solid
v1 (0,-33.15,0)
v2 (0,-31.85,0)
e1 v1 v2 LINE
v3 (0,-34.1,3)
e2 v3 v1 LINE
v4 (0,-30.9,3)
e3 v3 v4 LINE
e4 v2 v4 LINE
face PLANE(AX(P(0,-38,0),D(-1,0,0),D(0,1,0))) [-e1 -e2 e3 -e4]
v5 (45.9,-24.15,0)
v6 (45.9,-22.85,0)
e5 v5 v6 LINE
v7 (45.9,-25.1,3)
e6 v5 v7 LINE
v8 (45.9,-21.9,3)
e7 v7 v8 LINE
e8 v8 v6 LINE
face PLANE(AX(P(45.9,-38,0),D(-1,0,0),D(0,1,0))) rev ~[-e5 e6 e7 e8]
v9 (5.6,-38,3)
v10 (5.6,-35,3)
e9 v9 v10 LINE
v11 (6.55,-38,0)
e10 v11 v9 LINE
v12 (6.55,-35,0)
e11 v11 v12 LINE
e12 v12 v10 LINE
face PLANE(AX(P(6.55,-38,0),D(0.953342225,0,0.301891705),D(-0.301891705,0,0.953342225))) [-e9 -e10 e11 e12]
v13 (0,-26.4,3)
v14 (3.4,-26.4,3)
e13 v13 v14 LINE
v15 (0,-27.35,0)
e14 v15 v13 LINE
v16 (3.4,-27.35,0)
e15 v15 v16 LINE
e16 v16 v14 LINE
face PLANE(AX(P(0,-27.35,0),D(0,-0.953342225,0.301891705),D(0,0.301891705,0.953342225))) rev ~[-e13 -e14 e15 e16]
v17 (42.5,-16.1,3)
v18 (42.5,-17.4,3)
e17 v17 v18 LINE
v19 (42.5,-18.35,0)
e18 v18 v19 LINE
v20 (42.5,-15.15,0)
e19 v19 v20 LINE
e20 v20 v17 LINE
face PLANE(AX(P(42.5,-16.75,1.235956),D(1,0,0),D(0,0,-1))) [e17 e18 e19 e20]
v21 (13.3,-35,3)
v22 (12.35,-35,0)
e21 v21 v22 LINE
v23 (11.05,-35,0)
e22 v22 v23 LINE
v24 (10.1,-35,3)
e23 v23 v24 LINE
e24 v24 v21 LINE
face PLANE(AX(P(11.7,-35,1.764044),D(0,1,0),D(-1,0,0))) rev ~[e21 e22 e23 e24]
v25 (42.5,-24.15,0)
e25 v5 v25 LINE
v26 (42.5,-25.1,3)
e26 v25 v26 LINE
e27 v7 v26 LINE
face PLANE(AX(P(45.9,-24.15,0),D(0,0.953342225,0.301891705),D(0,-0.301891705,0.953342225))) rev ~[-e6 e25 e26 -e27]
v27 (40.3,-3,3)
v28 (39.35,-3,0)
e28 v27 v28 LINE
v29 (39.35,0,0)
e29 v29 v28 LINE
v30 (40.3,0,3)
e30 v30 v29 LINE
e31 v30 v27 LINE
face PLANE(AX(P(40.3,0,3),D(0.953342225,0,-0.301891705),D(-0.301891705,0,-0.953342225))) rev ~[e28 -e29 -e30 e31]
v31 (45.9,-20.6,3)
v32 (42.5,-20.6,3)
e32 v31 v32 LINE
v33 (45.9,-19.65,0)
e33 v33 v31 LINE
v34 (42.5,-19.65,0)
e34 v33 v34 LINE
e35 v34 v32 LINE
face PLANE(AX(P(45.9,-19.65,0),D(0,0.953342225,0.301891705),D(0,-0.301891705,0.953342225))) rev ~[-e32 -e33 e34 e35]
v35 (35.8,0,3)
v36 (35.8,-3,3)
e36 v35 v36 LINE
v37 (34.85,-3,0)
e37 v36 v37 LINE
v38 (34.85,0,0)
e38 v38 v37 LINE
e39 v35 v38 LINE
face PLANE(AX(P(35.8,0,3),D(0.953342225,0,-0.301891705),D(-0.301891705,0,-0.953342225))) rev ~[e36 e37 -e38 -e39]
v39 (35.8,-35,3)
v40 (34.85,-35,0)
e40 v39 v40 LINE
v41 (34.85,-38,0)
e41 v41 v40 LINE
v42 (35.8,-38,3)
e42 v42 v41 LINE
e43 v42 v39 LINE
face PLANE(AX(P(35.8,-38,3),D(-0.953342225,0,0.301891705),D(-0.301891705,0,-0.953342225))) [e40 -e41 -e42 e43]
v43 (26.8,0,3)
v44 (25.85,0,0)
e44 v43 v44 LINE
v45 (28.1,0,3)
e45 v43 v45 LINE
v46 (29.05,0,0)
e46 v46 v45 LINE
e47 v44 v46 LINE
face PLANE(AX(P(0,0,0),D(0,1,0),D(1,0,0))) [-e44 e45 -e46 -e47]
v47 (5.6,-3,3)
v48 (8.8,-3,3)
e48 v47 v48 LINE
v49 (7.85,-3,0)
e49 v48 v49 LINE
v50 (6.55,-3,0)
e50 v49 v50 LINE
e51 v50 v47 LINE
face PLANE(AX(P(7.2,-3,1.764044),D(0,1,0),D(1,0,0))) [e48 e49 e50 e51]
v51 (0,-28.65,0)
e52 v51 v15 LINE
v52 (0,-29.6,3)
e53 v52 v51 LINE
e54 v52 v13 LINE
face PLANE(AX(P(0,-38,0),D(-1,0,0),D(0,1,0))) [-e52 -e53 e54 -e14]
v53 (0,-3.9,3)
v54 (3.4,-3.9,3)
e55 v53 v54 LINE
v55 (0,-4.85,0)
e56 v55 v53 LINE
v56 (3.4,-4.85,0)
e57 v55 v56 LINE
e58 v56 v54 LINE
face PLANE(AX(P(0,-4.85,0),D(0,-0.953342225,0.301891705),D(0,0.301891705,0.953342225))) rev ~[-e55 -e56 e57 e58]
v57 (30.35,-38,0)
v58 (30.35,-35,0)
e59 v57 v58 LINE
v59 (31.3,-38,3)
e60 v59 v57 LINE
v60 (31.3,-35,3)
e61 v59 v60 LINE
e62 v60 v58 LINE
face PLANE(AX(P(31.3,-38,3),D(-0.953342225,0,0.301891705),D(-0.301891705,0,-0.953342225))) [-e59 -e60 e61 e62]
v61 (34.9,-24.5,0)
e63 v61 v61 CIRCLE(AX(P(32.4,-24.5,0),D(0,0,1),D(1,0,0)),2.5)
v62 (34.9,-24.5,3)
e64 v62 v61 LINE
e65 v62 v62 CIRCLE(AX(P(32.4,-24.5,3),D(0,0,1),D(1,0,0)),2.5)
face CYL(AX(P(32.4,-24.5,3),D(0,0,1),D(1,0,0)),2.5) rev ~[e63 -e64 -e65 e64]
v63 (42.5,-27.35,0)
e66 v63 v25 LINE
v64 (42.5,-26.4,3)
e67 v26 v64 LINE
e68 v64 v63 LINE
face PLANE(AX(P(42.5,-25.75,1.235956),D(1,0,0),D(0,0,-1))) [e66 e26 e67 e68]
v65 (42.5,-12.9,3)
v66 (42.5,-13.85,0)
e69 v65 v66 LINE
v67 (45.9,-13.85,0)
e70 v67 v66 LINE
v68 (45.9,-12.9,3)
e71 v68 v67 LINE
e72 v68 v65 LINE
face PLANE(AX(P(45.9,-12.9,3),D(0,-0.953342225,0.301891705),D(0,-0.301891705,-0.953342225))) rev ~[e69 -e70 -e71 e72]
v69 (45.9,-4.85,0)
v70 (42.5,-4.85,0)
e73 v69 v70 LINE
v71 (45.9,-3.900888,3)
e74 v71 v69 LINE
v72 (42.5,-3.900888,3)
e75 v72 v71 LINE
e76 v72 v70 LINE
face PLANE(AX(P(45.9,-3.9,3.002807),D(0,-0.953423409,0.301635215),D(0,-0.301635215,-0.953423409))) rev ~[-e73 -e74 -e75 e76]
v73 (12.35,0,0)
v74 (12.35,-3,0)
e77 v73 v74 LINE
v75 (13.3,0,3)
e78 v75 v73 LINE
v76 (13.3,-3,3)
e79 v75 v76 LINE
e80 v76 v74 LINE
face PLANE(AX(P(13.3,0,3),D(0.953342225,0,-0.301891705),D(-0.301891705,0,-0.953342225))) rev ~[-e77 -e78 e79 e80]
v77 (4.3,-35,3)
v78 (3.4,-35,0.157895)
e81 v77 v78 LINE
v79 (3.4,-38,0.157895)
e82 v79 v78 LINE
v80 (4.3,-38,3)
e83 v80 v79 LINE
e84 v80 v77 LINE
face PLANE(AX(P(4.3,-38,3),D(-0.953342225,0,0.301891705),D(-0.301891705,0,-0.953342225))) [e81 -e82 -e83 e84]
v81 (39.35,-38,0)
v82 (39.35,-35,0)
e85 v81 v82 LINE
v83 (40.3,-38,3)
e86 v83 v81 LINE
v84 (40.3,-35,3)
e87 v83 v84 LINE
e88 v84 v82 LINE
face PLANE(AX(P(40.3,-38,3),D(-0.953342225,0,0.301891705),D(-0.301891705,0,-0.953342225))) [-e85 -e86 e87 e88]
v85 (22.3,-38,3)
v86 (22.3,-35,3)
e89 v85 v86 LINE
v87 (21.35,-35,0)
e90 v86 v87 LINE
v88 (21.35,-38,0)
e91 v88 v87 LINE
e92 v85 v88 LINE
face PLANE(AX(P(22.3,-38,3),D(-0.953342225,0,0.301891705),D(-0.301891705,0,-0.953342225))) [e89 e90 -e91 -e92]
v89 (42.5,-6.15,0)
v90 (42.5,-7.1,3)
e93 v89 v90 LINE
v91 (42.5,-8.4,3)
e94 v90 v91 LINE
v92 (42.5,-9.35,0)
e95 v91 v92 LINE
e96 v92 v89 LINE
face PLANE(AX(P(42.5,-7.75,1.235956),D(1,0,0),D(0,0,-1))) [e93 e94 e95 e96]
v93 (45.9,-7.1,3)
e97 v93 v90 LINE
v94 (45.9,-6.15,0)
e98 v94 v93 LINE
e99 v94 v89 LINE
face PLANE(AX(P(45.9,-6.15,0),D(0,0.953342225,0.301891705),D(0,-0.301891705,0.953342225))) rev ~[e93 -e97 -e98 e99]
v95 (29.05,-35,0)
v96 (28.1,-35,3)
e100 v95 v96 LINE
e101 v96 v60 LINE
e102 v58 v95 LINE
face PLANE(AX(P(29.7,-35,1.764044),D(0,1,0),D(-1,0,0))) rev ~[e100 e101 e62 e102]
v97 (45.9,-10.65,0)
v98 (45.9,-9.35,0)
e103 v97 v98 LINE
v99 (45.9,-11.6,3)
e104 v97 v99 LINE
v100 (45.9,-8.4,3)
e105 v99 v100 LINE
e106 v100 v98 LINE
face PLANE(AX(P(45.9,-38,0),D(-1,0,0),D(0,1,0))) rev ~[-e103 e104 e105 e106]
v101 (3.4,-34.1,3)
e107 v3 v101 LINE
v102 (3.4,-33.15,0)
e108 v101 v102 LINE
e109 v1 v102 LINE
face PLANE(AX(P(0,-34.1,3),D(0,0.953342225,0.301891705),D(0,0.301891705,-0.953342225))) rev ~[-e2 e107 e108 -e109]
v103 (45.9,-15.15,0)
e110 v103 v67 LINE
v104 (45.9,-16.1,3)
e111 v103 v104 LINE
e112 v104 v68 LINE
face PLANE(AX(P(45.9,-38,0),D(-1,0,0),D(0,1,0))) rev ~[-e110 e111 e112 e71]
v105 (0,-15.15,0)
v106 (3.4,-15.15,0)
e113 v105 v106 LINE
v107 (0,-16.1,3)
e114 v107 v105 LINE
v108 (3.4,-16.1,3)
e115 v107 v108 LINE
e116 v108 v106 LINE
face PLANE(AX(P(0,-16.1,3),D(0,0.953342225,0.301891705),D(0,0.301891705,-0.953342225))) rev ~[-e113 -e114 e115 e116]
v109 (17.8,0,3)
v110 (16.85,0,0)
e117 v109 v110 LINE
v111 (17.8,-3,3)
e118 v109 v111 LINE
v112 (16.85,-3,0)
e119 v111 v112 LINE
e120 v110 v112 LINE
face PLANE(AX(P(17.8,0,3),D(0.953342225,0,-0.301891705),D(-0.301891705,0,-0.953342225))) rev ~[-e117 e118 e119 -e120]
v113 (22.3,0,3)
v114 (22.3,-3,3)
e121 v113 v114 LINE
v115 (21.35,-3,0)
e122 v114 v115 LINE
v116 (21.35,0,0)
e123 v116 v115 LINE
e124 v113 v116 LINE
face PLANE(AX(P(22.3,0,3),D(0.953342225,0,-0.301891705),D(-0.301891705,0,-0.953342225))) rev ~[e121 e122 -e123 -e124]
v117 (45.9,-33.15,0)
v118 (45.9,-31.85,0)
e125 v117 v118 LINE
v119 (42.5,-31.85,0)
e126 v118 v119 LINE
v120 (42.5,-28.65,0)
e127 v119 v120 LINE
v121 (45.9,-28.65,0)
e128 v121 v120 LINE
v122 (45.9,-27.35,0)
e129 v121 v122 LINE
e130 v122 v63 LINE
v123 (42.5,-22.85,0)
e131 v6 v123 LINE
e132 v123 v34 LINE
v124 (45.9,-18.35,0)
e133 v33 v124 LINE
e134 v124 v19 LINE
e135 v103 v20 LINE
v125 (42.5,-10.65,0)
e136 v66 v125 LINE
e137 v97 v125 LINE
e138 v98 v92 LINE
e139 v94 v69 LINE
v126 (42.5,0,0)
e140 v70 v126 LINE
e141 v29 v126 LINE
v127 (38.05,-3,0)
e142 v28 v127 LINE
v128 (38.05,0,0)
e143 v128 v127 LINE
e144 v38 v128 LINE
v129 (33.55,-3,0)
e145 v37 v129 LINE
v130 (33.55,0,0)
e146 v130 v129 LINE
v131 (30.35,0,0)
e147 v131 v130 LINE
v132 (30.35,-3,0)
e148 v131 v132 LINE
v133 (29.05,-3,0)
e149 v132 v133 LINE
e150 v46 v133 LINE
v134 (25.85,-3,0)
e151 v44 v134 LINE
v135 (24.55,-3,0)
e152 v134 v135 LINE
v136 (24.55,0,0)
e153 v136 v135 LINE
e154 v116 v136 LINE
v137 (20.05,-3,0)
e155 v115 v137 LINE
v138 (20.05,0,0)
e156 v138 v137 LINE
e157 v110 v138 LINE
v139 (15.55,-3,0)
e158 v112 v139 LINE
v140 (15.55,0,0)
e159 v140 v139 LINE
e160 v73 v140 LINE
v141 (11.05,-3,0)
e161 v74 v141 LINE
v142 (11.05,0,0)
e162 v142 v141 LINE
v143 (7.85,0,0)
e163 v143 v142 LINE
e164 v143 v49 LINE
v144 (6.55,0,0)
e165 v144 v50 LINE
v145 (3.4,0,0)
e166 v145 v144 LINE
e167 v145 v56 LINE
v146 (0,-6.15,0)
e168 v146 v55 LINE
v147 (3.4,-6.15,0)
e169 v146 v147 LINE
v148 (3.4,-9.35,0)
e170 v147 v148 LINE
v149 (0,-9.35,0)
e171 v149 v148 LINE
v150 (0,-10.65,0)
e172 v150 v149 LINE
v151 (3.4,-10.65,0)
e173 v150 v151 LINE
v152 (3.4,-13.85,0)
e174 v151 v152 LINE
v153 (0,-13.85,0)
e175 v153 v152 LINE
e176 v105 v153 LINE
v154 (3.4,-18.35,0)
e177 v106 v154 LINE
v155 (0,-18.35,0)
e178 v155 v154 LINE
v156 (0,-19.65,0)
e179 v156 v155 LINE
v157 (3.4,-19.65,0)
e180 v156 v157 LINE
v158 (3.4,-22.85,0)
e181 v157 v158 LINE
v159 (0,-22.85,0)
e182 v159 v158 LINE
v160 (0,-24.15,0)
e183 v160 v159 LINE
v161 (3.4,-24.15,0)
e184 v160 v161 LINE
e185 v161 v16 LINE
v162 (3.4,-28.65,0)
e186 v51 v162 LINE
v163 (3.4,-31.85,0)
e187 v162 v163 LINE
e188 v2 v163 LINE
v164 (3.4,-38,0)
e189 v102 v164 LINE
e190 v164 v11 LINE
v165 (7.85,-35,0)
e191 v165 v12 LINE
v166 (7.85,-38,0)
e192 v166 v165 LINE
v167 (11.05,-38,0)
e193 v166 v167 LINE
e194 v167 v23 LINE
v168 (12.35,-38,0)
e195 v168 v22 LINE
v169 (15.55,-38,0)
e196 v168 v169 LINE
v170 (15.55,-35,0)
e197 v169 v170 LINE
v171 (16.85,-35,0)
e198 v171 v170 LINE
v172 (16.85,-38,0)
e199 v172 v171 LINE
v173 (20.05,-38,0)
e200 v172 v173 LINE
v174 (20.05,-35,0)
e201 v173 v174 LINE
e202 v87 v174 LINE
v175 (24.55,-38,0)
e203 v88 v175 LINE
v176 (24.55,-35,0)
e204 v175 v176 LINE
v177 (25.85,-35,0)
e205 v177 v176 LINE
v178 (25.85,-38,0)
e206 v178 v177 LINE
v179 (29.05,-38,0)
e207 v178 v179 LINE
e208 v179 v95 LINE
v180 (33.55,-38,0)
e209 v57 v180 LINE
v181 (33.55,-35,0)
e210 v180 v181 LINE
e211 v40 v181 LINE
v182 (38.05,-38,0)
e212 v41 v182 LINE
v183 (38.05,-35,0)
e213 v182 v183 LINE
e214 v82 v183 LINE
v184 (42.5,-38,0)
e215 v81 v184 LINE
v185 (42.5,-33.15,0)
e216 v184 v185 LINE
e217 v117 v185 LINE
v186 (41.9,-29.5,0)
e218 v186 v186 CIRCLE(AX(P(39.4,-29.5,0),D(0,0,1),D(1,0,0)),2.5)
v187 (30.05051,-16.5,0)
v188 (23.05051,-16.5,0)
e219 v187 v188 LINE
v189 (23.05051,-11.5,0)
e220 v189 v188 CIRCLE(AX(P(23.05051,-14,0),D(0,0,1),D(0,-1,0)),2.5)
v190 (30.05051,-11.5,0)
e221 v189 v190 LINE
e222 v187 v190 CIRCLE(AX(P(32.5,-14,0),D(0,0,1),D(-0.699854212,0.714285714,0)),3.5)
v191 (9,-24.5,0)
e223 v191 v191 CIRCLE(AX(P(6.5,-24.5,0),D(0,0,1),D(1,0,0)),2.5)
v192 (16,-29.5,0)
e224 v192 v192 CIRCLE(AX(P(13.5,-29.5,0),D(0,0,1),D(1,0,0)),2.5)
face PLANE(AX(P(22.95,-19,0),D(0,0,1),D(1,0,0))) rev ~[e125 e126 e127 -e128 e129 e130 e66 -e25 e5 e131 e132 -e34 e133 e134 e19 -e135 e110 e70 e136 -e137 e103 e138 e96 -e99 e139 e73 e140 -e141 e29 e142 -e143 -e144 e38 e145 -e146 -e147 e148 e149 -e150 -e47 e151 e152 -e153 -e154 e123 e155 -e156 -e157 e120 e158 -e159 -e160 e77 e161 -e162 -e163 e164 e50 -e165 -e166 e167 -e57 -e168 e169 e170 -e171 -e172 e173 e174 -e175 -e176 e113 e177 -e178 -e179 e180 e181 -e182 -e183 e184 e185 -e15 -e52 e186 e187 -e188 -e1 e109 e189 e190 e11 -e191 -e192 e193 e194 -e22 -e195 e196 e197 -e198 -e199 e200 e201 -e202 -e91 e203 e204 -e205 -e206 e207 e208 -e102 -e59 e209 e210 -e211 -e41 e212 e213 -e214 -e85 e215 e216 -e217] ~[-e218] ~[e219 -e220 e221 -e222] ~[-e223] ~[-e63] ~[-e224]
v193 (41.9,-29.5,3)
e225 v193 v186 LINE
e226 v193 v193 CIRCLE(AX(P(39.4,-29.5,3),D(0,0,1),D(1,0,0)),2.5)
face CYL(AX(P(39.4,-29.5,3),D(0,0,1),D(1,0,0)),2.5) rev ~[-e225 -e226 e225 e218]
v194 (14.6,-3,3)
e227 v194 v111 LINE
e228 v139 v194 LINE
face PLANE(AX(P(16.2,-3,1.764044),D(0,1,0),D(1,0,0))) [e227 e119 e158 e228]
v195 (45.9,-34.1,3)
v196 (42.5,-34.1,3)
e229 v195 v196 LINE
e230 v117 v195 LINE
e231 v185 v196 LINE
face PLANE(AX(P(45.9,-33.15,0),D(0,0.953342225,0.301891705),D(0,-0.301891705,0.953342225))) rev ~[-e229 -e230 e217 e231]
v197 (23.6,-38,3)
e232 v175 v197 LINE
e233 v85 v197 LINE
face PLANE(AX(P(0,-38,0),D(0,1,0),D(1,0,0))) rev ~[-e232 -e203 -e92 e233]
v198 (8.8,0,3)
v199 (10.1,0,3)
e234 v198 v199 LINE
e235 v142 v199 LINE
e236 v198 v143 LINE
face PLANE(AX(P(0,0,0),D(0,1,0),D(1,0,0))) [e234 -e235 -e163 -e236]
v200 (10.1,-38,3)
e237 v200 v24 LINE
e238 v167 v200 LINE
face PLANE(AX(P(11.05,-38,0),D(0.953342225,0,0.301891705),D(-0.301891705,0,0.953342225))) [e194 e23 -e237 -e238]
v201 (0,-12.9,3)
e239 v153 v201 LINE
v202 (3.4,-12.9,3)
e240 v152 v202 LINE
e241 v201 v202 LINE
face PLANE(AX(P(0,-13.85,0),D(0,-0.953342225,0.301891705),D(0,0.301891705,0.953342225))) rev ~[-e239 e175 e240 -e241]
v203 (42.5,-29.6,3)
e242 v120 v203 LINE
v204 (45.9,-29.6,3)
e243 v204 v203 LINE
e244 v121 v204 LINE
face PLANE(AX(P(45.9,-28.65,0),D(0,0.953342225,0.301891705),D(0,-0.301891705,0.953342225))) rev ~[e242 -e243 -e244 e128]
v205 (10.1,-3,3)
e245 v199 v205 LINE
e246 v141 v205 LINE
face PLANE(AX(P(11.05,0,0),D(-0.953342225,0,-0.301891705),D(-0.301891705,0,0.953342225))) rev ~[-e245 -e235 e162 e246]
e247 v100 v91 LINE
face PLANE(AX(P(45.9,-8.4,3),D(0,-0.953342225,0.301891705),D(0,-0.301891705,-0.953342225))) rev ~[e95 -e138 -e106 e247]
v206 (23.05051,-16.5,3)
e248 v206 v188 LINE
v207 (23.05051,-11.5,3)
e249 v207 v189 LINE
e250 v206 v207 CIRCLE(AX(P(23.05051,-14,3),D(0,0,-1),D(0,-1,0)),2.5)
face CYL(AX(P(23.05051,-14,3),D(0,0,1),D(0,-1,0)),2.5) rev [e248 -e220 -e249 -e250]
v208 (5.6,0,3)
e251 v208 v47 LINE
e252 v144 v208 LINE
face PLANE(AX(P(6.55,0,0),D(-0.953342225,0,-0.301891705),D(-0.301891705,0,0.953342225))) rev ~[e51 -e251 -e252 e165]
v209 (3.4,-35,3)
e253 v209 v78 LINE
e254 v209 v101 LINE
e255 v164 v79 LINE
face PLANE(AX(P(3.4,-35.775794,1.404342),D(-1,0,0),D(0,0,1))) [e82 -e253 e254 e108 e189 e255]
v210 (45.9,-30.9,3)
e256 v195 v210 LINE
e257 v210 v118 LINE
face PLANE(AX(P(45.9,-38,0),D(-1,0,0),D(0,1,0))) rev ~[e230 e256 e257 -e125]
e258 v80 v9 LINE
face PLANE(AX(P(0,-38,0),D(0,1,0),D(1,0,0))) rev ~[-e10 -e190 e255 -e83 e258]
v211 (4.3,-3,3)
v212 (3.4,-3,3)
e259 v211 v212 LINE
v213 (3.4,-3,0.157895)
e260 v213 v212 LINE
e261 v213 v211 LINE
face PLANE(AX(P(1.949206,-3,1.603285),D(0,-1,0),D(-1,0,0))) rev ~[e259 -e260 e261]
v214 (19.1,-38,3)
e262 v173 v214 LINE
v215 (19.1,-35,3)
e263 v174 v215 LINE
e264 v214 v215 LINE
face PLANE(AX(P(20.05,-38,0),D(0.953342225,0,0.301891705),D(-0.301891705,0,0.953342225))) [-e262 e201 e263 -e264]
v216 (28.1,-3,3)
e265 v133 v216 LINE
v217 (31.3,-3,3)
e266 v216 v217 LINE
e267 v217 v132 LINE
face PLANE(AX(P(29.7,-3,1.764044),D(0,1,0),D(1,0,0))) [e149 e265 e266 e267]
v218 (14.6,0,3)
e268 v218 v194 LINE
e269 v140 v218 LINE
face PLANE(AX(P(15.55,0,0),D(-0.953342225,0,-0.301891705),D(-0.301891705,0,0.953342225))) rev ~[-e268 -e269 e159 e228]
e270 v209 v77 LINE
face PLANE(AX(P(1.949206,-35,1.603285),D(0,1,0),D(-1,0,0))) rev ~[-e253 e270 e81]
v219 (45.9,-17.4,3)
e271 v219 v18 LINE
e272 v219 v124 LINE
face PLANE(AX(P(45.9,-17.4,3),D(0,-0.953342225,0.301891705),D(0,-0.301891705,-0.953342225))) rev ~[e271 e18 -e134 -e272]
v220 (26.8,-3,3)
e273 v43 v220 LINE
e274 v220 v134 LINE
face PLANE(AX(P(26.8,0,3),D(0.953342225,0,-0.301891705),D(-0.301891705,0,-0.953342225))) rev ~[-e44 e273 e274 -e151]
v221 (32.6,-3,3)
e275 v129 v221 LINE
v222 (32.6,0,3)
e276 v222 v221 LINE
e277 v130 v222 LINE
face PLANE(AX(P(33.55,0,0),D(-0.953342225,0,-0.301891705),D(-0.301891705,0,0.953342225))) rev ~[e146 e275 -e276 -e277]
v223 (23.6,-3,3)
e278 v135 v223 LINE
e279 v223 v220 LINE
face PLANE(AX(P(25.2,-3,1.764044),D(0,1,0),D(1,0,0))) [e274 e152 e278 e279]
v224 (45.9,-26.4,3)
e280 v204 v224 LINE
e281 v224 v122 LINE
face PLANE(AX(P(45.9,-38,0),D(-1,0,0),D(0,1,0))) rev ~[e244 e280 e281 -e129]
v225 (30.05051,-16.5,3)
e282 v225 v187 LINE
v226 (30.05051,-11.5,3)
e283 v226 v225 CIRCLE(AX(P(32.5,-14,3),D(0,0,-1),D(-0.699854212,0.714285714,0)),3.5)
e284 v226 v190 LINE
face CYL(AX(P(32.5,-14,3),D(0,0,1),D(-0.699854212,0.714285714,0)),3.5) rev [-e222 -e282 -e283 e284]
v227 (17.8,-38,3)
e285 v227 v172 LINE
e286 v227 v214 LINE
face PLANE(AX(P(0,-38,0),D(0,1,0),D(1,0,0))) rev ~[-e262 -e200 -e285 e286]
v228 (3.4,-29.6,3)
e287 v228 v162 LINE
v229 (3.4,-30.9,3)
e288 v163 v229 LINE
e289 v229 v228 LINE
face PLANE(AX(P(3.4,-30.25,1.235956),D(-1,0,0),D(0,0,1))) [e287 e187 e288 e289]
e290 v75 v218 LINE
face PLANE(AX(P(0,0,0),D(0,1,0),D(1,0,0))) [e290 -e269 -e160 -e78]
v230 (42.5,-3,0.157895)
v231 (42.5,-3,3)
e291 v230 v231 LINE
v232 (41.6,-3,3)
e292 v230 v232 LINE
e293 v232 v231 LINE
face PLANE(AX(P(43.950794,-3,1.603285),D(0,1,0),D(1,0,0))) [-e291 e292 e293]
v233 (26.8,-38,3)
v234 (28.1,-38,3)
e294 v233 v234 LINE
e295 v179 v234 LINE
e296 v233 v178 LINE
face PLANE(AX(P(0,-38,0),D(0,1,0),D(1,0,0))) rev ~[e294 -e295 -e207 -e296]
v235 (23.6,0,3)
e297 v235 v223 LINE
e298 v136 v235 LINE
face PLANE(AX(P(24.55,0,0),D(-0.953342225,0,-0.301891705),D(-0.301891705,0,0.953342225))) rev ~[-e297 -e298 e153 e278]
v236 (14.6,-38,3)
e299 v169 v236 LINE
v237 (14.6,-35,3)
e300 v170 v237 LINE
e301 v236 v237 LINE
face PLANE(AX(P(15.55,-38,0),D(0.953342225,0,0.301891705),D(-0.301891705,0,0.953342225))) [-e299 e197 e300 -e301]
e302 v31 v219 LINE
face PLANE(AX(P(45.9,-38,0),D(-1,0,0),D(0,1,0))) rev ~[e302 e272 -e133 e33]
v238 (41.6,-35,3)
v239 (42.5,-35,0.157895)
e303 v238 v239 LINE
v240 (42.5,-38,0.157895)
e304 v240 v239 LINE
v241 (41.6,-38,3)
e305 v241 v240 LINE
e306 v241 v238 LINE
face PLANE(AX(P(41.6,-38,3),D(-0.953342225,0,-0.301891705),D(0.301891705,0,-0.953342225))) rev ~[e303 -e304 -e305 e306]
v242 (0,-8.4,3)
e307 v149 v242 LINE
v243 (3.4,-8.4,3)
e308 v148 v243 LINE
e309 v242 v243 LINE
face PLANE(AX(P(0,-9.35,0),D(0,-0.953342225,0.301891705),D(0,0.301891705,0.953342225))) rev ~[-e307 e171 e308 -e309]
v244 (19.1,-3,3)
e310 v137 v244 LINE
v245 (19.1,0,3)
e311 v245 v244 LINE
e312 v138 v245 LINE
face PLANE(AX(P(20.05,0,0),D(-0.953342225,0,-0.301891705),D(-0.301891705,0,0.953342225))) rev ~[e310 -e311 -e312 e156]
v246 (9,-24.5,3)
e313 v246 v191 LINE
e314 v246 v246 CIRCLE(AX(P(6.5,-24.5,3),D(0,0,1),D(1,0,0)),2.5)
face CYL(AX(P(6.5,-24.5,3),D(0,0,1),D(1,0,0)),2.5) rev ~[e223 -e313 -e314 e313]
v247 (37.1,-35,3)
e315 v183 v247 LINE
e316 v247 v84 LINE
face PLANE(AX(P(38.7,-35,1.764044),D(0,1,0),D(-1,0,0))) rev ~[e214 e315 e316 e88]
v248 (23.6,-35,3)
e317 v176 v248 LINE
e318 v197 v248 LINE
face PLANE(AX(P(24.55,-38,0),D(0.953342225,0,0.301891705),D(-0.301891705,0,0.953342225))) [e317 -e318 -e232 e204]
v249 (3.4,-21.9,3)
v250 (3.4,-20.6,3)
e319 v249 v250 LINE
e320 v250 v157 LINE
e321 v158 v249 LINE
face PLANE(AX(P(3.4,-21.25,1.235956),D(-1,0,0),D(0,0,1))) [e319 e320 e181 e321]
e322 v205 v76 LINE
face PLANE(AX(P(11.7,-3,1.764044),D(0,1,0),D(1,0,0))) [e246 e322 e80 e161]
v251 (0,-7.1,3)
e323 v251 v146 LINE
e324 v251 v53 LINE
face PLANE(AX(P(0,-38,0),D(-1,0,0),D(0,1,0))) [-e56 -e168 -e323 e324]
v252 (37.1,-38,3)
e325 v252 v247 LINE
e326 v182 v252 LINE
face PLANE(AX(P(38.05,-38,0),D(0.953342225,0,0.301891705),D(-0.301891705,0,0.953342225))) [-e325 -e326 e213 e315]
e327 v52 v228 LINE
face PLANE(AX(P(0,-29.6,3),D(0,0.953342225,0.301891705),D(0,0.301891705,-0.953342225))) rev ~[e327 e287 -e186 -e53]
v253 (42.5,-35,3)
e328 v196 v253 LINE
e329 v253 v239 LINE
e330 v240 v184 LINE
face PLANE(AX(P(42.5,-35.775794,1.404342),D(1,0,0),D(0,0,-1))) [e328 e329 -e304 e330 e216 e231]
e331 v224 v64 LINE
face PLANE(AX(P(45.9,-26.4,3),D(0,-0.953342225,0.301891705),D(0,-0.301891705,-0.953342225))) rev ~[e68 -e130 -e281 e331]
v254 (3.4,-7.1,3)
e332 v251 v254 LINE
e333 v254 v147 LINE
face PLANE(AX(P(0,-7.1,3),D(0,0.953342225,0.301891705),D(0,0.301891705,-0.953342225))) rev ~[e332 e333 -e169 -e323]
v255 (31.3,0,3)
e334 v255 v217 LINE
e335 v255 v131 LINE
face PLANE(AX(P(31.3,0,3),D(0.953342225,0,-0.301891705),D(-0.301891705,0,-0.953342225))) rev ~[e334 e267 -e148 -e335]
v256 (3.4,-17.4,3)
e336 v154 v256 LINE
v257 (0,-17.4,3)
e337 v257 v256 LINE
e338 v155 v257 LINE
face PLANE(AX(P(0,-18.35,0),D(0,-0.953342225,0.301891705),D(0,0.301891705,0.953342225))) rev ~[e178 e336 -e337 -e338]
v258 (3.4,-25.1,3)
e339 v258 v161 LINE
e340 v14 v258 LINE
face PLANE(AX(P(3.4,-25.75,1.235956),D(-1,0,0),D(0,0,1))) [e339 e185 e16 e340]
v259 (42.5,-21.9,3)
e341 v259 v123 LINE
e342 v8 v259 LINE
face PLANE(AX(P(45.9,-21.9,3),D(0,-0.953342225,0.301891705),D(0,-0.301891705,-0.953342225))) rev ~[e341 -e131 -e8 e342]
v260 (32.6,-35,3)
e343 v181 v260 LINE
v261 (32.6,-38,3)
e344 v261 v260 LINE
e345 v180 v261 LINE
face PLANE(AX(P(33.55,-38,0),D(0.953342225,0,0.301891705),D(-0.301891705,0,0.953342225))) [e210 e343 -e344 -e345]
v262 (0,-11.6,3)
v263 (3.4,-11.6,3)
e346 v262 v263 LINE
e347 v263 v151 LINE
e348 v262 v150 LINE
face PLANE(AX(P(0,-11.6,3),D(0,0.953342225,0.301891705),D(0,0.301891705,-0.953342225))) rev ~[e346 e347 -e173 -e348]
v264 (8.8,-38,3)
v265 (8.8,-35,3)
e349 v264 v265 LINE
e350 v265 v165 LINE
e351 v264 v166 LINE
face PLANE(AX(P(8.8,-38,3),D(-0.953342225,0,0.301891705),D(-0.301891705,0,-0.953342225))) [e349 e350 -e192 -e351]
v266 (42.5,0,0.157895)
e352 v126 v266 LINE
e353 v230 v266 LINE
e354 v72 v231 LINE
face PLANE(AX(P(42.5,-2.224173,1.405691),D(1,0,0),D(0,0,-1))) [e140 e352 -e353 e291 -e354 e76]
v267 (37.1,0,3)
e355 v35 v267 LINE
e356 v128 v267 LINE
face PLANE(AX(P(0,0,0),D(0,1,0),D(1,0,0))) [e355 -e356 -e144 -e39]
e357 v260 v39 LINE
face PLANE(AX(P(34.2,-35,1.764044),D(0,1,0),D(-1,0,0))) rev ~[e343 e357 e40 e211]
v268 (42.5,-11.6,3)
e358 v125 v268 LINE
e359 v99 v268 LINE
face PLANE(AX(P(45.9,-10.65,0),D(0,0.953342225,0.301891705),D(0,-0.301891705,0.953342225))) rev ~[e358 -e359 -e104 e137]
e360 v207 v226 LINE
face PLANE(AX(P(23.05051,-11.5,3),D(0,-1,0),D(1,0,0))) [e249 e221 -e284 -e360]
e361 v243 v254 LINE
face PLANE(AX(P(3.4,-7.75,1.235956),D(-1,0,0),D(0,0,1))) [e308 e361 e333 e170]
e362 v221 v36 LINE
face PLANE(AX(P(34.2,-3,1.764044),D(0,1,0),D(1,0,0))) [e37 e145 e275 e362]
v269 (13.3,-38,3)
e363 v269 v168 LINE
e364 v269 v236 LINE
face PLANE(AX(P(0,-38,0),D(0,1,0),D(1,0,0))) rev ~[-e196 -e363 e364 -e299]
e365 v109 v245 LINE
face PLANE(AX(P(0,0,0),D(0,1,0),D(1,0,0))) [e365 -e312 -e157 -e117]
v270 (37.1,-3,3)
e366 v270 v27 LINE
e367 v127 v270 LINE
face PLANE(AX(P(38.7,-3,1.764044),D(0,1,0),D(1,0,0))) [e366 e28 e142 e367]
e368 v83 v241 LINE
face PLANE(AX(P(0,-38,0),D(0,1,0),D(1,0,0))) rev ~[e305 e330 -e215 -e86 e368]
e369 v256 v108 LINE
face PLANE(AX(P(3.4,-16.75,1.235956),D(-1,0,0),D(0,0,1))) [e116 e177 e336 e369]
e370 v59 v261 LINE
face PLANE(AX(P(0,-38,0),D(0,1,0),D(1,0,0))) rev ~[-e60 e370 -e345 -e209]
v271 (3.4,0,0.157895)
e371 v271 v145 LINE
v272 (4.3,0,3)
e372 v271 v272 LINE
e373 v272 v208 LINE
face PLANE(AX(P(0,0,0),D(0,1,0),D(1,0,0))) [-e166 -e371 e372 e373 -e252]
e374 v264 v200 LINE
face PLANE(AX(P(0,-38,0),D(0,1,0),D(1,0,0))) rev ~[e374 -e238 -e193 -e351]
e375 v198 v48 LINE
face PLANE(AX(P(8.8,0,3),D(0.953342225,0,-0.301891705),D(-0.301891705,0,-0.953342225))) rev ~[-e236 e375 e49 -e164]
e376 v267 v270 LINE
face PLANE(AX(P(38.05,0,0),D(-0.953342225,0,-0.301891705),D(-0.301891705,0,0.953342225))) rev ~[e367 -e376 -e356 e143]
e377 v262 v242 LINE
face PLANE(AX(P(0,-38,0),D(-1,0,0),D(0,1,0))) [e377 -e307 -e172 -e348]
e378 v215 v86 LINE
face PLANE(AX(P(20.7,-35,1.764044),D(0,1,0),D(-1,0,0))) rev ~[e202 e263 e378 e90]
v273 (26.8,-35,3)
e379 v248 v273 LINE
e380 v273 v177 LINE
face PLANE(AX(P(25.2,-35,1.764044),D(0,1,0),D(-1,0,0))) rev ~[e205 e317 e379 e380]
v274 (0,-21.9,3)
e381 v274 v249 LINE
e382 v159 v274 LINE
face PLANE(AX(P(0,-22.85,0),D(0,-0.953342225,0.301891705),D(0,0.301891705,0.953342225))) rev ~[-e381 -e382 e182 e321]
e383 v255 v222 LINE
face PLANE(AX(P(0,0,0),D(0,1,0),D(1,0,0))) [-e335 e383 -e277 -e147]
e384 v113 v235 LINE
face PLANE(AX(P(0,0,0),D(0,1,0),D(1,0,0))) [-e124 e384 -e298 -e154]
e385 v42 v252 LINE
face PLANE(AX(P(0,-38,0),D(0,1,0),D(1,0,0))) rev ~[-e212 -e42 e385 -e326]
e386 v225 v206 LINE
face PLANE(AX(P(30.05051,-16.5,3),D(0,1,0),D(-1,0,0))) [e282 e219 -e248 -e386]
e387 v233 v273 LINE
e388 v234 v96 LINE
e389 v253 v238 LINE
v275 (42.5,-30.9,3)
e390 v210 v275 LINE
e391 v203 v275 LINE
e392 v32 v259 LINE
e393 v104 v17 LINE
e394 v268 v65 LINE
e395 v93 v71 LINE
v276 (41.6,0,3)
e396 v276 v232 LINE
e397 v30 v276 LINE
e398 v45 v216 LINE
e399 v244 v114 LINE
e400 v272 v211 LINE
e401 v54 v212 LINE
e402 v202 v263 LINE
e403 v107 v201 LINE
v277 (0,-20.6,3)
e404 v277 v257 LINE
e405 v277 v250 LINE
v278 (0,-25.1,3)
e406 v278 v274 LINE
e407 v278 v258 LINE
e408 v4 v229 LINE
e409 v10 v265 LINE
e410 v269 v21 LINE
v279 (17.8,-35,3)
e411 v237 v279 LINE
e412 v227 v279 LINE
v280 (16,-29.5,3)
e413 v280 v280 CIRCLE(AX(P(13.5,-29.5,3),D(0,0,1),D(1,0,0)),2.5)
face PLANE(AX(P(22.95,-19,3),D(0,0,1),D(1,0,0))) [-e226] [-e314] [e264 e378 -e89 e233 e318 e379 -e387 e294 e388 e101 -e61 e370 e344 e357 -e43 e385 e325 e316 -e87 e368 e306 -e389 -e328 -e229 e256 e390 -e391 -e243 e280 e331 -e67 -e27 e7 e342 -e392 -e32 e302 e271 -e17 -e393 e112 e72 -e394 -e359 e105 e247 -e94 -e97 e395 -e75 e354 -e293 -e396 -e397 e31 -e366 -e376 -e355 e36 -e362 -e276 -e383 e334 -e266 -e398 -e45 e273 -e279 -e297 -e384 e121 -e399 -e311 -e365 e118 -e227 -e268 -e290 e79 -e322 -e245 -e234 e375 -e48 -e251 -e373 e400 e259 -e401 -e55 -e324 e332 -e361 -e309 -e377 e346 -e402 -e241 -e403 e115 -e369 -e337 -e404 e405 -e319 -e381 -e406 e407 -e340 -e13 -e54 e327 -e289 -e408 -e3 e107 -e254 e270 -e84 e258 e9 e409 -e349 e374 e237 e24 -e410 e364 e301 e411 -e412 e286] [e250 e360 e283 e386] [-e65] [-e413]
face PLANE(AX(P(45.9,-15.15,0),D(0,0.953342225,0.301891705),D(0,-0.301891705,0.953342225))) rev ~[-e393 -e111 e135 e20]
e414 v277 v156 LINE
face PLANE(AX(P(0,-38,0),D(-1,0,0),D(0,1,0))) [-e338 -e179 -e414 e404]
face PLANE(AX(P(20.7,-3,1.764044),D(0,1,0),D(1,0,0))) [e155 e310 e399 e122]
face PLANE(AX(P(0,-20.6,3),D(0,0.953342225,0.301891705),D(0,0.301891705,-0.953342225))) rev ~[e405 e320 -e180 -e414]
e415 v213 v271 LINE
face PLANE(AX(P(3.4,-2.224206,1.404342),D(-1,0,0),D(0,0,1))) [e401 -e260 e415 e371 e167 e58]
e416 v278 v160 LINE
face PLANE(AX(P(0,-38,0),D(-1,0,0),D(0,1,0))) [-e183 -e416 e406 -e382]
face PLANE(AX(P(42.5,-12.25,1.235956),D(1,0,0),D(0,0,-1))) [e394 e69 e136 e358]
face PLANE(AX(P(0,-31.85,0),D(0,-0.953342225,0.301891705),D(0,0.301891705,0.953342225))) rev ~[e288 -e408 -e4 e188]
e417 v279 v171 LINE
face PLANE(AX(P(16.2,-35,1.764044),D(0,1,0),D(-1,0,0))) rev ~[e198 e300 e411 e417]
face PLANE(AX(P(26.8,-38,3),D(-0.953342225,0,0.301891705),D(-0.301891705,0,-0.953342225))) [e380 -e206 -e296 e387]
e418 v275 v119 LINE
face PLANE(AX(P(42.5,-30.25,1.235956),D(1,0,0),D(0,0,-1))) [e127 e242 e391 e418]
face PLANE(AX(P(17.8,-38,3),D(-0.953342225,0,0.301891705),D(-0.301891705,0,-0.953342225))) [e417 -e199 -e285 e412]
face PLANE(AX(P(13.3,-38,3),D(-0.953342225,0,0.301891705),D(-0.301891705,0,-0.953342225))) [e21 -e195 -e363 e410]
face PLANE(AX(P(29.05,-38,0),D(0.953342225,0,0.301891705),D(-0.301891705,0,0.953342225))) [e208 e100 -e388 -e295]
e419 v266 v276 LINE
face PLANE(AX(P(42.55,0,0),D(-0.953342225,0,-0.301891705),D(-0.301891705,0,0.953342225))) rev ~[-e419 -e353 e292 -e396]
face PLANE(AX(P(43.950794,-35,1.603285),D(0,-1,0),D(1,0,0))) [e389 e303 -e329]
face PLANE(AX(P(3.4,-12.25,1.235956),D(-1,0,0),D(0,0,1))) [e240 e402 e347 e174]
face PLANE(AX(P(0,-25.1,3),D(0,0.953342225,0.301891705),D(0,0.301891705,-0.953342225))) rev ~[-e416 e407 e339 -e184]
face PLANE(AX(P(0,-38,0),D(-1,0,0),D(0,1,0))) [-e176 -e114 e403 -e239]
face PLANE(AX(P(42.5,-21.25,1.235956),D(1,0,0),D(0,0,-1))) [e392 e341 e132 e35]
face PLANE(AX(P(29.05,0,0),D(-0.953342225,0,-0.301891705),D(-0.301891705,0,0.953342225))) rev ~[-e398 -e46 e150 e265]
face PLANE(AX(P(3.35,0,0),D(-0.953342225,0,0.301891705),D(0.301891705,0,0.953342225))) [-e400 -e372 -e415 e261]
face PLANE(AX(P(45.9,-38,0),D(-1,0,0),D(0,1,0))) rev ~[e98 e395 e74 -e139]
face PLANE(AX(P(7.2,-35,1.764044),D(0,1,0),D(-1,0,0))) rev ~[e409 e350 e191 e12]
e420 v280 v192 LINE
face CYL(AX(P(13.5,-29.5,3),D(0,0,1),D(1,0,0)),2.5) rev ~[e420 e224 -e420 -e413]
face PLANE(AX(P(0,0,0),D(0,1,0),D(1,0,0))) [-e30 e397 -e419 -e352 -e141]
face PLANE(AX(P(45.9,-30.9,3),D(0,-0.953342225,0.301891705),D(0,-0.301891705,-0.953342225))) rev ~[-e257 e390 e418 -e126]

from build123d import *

# Parameters (mm, degrees)
SKETCH_1_W          = 45.9
SKETCH_1_H          = 38
EXTRUDE_1_DEPTH     = 3
CUT_EXTRUDE_3_DEPTH = 3.4
CUT_EXTRUDE_4_DEPTH = 3.4
CUT_EXTRUDE_5_DEPTH = 3
CUT_EXTRUDE_6_DEPTH = 3
SKETCH_9_R          = 2.5
CUT_EXTRUDE_7_DEPTH = 60.664143336


with BuildPart() as part:
    # 草图1 → 凸台-拉伸1 (new body)
    with BuildSketch(Plane.XY):
        with Locations((22.95, -19)):
            Rectangle(SKETCH_1_W, SKETCH_1_H)
    extrude(amount=EXTRUDE_1_DEPTH)

    # 草图3 → 切除-拉伸3 (cut)
    with BuildSketch(Plane.ZY):
        Polygon((3, -8.4), (3, -7.1), (0, -6.15), (0, -9.35), align=None)
        Polygon((0, -4.85), (3, -3.9), (3, 0), (0, 0), align=None)
        Polygon((3, -12.9), (3, -11.6), (0, -10.65), (0, -13.85), align=None)
        Polygon((3, -17.4), (3, -16.1), (0, -15.15), (0, -18.35), align=None)
        Polygon((3, -21.9), (3, -20.6), (0, -19.65), (0, -22.85), align=None)
        Polygon((3, -26.4), (3, -25.1), (0, -24.15), (0, -27.35), align=None)
        Polygon((3, -30.9), (3, -29.6), (0, -28.65), (0, -31.85), align=None)
        Polygon((3, -34.1), (0, -33.15), (0, -38), (3, -38), align=None)
    extrude(amount=-CUT_EXTRUDE_3_DEPTH, mode=Mode.SUBTRACT)

    # 草图5 → 切除-拉伸4 (cut)
    with BuildSketch(Plane(origin=(45.9, 0, 0), x_dir=(0, 0, -1), z_dir=(1, 0, 0))):
        Polygon((0, 0), (-3.00280668, 0), (-3.00280668, -3.9), (0, -4.85), align=None)
        Polygon((0, -6.15), (-3, -7.1), (-3, -8.4), (0, -9.35), align=None)
        Polygon((0, -33.15), (-3, -34.1), (-3, -38), (0, -38), align=None)
        Polygon((-3, -12.9), (0, -13.85), (0, -10.65), (-3, -11.6), align=None)
        Polygon((-3, -17.4), (0, -18.35), (0, -15.15), (-3, -16.1), align=None)
        Polygon((-3, -21.9), (0, -22.85), (0, -19.65), (-3, -20.6), align=None)
        Polygon((-3, -26.4), (0, -27.35), (0, -24.15), (-3, -25.1), align=None)
        Polygon((-3, -30.9), (0, -31.85), (0, -28.65), (-3, -29.6), align=None)
    extrude(amount=-CUT_EXTRUDE_4_DEPTH, mode=Mode.SUBTRACT)

    # 草图7 → 切除-拉伸5 (cut)
    with BuildSketch(Plane.XZ.offset(38)):
        Polygon((5.6, 3), (8.8, 3), (7.85, 0), (6.55, 0), align=None)
        Polygon((4.3, 3), (3.35, 0), (0, 0), (0, 3), align=None)
        Polygon((11.05, 0), (10.1, 3), (13.3, 3), (12.35, 0), align=None)
        Polygon((15.55, 0), (14.6, 3), (17.8, 3), (16.85, 0), align=None)
        Polygon((20.05, 0), (19.1, 3), (22.3, 3), (21.35, 0), align=None)
        Polygon((24.55, 0), (23.6, 3), (26.8, 3), (25.85, 0), align=None)
        Polygon((29.05, 0), (28.1, 3), (31.3, 3), (30.35, 0), align=None)
        Polygon((33.55, 0), (32.6, 3), (35.8, 3), (34.85, 0), align=None)
        Polygon((38.05, 0), (37.1, 3), (40.3, 3), (39.35, 0), align=None)
        Polygon((45.9, 0), (45.9, 3), (41.6, 3), (42.55, 0), align=None)
    extrude(amount=-CUT_EXTRUDE_5_DEPTH, mode=Mode.SUBTRACT)

    # 草图8 → 切除-拉伸6 (cut)
    with BuildSketch(Plane(origin=(0, 0, 0), x_dir=(1, 0, 0), z_dir=(0, 1, 0))):
        Polygon((6.55, 0), (5.6, -3), (8.8, -3), (7.85, 0), align=None)
        Polygon((3.35, 0), (4.3, -3), (0, -3), (0, 0), align=None)
        Polygon((12.35, 0), (11.05, 0), (10.1, -3), (13.3, -3), align=None)
        Polygon((16.85, 0), (15.55, 0), (14.6, -3), (17.8, -3), align=None)
        Polygon((21.35, 0), (20.05, 0), (19.1, -3), (22.3, -3), align=None)
        Polygon((25.85, 0), (24.55, 0), (23.6, -3), (26.8, -3), align=None)
        Polygon((30.35, 0), (29.05, 0), (28.1, -3), (31.3, -3), align=None)
        Polygon((34.85, 0), (33.55, 0), (32.6, -3), (35.8, -3), align=None)
        Polygon((39.35, 0), (38.05, 0), (37.1, -3), (40.3, -3), align=None)
        Polygon((45.9, -3), (45.9, 0), (42.55, 0), (41.6, -3), align=None)
    extrude(amount=-CUT_EXTRUDE_6_DEPTH, mode=Mode.SUBTRACT)

    # 草图9 → 切除-拉伸7 (cut, through all)
    with BuildSketch(Plane.XY.offset(3)):
        with Locations((32.4, -24.5)):
            Circle(SKETCH_9_R)
        with Locations((39.4, -29.5)):
            Circle(SKETCH_9_R)
        with Locations((6.5, -24.5)):
            Circle(SKETCH_9_R)
        with Locations((13.5, -29.5)):
            Circle(SKETCH_9_R)
        with BuildLine():
            Line((30.050510257, -16.5), (23.050510257, -16.5))
            ThreePointArc((23.050510257, -16.5), (20.550510257, -14), (23.050510257, -11.5))
            Line((23.050510257, -11.5), (30.050510257, -11.5))
            ThreePointArc((30.050510257, -11.5), (36, -14), (30.050510257, -16.5))
        make_face()
    extrude(amount=-CUT_EXTRUDE_7_DEPTH, mode=Mode.SUBTRACT)


solid = part.part
